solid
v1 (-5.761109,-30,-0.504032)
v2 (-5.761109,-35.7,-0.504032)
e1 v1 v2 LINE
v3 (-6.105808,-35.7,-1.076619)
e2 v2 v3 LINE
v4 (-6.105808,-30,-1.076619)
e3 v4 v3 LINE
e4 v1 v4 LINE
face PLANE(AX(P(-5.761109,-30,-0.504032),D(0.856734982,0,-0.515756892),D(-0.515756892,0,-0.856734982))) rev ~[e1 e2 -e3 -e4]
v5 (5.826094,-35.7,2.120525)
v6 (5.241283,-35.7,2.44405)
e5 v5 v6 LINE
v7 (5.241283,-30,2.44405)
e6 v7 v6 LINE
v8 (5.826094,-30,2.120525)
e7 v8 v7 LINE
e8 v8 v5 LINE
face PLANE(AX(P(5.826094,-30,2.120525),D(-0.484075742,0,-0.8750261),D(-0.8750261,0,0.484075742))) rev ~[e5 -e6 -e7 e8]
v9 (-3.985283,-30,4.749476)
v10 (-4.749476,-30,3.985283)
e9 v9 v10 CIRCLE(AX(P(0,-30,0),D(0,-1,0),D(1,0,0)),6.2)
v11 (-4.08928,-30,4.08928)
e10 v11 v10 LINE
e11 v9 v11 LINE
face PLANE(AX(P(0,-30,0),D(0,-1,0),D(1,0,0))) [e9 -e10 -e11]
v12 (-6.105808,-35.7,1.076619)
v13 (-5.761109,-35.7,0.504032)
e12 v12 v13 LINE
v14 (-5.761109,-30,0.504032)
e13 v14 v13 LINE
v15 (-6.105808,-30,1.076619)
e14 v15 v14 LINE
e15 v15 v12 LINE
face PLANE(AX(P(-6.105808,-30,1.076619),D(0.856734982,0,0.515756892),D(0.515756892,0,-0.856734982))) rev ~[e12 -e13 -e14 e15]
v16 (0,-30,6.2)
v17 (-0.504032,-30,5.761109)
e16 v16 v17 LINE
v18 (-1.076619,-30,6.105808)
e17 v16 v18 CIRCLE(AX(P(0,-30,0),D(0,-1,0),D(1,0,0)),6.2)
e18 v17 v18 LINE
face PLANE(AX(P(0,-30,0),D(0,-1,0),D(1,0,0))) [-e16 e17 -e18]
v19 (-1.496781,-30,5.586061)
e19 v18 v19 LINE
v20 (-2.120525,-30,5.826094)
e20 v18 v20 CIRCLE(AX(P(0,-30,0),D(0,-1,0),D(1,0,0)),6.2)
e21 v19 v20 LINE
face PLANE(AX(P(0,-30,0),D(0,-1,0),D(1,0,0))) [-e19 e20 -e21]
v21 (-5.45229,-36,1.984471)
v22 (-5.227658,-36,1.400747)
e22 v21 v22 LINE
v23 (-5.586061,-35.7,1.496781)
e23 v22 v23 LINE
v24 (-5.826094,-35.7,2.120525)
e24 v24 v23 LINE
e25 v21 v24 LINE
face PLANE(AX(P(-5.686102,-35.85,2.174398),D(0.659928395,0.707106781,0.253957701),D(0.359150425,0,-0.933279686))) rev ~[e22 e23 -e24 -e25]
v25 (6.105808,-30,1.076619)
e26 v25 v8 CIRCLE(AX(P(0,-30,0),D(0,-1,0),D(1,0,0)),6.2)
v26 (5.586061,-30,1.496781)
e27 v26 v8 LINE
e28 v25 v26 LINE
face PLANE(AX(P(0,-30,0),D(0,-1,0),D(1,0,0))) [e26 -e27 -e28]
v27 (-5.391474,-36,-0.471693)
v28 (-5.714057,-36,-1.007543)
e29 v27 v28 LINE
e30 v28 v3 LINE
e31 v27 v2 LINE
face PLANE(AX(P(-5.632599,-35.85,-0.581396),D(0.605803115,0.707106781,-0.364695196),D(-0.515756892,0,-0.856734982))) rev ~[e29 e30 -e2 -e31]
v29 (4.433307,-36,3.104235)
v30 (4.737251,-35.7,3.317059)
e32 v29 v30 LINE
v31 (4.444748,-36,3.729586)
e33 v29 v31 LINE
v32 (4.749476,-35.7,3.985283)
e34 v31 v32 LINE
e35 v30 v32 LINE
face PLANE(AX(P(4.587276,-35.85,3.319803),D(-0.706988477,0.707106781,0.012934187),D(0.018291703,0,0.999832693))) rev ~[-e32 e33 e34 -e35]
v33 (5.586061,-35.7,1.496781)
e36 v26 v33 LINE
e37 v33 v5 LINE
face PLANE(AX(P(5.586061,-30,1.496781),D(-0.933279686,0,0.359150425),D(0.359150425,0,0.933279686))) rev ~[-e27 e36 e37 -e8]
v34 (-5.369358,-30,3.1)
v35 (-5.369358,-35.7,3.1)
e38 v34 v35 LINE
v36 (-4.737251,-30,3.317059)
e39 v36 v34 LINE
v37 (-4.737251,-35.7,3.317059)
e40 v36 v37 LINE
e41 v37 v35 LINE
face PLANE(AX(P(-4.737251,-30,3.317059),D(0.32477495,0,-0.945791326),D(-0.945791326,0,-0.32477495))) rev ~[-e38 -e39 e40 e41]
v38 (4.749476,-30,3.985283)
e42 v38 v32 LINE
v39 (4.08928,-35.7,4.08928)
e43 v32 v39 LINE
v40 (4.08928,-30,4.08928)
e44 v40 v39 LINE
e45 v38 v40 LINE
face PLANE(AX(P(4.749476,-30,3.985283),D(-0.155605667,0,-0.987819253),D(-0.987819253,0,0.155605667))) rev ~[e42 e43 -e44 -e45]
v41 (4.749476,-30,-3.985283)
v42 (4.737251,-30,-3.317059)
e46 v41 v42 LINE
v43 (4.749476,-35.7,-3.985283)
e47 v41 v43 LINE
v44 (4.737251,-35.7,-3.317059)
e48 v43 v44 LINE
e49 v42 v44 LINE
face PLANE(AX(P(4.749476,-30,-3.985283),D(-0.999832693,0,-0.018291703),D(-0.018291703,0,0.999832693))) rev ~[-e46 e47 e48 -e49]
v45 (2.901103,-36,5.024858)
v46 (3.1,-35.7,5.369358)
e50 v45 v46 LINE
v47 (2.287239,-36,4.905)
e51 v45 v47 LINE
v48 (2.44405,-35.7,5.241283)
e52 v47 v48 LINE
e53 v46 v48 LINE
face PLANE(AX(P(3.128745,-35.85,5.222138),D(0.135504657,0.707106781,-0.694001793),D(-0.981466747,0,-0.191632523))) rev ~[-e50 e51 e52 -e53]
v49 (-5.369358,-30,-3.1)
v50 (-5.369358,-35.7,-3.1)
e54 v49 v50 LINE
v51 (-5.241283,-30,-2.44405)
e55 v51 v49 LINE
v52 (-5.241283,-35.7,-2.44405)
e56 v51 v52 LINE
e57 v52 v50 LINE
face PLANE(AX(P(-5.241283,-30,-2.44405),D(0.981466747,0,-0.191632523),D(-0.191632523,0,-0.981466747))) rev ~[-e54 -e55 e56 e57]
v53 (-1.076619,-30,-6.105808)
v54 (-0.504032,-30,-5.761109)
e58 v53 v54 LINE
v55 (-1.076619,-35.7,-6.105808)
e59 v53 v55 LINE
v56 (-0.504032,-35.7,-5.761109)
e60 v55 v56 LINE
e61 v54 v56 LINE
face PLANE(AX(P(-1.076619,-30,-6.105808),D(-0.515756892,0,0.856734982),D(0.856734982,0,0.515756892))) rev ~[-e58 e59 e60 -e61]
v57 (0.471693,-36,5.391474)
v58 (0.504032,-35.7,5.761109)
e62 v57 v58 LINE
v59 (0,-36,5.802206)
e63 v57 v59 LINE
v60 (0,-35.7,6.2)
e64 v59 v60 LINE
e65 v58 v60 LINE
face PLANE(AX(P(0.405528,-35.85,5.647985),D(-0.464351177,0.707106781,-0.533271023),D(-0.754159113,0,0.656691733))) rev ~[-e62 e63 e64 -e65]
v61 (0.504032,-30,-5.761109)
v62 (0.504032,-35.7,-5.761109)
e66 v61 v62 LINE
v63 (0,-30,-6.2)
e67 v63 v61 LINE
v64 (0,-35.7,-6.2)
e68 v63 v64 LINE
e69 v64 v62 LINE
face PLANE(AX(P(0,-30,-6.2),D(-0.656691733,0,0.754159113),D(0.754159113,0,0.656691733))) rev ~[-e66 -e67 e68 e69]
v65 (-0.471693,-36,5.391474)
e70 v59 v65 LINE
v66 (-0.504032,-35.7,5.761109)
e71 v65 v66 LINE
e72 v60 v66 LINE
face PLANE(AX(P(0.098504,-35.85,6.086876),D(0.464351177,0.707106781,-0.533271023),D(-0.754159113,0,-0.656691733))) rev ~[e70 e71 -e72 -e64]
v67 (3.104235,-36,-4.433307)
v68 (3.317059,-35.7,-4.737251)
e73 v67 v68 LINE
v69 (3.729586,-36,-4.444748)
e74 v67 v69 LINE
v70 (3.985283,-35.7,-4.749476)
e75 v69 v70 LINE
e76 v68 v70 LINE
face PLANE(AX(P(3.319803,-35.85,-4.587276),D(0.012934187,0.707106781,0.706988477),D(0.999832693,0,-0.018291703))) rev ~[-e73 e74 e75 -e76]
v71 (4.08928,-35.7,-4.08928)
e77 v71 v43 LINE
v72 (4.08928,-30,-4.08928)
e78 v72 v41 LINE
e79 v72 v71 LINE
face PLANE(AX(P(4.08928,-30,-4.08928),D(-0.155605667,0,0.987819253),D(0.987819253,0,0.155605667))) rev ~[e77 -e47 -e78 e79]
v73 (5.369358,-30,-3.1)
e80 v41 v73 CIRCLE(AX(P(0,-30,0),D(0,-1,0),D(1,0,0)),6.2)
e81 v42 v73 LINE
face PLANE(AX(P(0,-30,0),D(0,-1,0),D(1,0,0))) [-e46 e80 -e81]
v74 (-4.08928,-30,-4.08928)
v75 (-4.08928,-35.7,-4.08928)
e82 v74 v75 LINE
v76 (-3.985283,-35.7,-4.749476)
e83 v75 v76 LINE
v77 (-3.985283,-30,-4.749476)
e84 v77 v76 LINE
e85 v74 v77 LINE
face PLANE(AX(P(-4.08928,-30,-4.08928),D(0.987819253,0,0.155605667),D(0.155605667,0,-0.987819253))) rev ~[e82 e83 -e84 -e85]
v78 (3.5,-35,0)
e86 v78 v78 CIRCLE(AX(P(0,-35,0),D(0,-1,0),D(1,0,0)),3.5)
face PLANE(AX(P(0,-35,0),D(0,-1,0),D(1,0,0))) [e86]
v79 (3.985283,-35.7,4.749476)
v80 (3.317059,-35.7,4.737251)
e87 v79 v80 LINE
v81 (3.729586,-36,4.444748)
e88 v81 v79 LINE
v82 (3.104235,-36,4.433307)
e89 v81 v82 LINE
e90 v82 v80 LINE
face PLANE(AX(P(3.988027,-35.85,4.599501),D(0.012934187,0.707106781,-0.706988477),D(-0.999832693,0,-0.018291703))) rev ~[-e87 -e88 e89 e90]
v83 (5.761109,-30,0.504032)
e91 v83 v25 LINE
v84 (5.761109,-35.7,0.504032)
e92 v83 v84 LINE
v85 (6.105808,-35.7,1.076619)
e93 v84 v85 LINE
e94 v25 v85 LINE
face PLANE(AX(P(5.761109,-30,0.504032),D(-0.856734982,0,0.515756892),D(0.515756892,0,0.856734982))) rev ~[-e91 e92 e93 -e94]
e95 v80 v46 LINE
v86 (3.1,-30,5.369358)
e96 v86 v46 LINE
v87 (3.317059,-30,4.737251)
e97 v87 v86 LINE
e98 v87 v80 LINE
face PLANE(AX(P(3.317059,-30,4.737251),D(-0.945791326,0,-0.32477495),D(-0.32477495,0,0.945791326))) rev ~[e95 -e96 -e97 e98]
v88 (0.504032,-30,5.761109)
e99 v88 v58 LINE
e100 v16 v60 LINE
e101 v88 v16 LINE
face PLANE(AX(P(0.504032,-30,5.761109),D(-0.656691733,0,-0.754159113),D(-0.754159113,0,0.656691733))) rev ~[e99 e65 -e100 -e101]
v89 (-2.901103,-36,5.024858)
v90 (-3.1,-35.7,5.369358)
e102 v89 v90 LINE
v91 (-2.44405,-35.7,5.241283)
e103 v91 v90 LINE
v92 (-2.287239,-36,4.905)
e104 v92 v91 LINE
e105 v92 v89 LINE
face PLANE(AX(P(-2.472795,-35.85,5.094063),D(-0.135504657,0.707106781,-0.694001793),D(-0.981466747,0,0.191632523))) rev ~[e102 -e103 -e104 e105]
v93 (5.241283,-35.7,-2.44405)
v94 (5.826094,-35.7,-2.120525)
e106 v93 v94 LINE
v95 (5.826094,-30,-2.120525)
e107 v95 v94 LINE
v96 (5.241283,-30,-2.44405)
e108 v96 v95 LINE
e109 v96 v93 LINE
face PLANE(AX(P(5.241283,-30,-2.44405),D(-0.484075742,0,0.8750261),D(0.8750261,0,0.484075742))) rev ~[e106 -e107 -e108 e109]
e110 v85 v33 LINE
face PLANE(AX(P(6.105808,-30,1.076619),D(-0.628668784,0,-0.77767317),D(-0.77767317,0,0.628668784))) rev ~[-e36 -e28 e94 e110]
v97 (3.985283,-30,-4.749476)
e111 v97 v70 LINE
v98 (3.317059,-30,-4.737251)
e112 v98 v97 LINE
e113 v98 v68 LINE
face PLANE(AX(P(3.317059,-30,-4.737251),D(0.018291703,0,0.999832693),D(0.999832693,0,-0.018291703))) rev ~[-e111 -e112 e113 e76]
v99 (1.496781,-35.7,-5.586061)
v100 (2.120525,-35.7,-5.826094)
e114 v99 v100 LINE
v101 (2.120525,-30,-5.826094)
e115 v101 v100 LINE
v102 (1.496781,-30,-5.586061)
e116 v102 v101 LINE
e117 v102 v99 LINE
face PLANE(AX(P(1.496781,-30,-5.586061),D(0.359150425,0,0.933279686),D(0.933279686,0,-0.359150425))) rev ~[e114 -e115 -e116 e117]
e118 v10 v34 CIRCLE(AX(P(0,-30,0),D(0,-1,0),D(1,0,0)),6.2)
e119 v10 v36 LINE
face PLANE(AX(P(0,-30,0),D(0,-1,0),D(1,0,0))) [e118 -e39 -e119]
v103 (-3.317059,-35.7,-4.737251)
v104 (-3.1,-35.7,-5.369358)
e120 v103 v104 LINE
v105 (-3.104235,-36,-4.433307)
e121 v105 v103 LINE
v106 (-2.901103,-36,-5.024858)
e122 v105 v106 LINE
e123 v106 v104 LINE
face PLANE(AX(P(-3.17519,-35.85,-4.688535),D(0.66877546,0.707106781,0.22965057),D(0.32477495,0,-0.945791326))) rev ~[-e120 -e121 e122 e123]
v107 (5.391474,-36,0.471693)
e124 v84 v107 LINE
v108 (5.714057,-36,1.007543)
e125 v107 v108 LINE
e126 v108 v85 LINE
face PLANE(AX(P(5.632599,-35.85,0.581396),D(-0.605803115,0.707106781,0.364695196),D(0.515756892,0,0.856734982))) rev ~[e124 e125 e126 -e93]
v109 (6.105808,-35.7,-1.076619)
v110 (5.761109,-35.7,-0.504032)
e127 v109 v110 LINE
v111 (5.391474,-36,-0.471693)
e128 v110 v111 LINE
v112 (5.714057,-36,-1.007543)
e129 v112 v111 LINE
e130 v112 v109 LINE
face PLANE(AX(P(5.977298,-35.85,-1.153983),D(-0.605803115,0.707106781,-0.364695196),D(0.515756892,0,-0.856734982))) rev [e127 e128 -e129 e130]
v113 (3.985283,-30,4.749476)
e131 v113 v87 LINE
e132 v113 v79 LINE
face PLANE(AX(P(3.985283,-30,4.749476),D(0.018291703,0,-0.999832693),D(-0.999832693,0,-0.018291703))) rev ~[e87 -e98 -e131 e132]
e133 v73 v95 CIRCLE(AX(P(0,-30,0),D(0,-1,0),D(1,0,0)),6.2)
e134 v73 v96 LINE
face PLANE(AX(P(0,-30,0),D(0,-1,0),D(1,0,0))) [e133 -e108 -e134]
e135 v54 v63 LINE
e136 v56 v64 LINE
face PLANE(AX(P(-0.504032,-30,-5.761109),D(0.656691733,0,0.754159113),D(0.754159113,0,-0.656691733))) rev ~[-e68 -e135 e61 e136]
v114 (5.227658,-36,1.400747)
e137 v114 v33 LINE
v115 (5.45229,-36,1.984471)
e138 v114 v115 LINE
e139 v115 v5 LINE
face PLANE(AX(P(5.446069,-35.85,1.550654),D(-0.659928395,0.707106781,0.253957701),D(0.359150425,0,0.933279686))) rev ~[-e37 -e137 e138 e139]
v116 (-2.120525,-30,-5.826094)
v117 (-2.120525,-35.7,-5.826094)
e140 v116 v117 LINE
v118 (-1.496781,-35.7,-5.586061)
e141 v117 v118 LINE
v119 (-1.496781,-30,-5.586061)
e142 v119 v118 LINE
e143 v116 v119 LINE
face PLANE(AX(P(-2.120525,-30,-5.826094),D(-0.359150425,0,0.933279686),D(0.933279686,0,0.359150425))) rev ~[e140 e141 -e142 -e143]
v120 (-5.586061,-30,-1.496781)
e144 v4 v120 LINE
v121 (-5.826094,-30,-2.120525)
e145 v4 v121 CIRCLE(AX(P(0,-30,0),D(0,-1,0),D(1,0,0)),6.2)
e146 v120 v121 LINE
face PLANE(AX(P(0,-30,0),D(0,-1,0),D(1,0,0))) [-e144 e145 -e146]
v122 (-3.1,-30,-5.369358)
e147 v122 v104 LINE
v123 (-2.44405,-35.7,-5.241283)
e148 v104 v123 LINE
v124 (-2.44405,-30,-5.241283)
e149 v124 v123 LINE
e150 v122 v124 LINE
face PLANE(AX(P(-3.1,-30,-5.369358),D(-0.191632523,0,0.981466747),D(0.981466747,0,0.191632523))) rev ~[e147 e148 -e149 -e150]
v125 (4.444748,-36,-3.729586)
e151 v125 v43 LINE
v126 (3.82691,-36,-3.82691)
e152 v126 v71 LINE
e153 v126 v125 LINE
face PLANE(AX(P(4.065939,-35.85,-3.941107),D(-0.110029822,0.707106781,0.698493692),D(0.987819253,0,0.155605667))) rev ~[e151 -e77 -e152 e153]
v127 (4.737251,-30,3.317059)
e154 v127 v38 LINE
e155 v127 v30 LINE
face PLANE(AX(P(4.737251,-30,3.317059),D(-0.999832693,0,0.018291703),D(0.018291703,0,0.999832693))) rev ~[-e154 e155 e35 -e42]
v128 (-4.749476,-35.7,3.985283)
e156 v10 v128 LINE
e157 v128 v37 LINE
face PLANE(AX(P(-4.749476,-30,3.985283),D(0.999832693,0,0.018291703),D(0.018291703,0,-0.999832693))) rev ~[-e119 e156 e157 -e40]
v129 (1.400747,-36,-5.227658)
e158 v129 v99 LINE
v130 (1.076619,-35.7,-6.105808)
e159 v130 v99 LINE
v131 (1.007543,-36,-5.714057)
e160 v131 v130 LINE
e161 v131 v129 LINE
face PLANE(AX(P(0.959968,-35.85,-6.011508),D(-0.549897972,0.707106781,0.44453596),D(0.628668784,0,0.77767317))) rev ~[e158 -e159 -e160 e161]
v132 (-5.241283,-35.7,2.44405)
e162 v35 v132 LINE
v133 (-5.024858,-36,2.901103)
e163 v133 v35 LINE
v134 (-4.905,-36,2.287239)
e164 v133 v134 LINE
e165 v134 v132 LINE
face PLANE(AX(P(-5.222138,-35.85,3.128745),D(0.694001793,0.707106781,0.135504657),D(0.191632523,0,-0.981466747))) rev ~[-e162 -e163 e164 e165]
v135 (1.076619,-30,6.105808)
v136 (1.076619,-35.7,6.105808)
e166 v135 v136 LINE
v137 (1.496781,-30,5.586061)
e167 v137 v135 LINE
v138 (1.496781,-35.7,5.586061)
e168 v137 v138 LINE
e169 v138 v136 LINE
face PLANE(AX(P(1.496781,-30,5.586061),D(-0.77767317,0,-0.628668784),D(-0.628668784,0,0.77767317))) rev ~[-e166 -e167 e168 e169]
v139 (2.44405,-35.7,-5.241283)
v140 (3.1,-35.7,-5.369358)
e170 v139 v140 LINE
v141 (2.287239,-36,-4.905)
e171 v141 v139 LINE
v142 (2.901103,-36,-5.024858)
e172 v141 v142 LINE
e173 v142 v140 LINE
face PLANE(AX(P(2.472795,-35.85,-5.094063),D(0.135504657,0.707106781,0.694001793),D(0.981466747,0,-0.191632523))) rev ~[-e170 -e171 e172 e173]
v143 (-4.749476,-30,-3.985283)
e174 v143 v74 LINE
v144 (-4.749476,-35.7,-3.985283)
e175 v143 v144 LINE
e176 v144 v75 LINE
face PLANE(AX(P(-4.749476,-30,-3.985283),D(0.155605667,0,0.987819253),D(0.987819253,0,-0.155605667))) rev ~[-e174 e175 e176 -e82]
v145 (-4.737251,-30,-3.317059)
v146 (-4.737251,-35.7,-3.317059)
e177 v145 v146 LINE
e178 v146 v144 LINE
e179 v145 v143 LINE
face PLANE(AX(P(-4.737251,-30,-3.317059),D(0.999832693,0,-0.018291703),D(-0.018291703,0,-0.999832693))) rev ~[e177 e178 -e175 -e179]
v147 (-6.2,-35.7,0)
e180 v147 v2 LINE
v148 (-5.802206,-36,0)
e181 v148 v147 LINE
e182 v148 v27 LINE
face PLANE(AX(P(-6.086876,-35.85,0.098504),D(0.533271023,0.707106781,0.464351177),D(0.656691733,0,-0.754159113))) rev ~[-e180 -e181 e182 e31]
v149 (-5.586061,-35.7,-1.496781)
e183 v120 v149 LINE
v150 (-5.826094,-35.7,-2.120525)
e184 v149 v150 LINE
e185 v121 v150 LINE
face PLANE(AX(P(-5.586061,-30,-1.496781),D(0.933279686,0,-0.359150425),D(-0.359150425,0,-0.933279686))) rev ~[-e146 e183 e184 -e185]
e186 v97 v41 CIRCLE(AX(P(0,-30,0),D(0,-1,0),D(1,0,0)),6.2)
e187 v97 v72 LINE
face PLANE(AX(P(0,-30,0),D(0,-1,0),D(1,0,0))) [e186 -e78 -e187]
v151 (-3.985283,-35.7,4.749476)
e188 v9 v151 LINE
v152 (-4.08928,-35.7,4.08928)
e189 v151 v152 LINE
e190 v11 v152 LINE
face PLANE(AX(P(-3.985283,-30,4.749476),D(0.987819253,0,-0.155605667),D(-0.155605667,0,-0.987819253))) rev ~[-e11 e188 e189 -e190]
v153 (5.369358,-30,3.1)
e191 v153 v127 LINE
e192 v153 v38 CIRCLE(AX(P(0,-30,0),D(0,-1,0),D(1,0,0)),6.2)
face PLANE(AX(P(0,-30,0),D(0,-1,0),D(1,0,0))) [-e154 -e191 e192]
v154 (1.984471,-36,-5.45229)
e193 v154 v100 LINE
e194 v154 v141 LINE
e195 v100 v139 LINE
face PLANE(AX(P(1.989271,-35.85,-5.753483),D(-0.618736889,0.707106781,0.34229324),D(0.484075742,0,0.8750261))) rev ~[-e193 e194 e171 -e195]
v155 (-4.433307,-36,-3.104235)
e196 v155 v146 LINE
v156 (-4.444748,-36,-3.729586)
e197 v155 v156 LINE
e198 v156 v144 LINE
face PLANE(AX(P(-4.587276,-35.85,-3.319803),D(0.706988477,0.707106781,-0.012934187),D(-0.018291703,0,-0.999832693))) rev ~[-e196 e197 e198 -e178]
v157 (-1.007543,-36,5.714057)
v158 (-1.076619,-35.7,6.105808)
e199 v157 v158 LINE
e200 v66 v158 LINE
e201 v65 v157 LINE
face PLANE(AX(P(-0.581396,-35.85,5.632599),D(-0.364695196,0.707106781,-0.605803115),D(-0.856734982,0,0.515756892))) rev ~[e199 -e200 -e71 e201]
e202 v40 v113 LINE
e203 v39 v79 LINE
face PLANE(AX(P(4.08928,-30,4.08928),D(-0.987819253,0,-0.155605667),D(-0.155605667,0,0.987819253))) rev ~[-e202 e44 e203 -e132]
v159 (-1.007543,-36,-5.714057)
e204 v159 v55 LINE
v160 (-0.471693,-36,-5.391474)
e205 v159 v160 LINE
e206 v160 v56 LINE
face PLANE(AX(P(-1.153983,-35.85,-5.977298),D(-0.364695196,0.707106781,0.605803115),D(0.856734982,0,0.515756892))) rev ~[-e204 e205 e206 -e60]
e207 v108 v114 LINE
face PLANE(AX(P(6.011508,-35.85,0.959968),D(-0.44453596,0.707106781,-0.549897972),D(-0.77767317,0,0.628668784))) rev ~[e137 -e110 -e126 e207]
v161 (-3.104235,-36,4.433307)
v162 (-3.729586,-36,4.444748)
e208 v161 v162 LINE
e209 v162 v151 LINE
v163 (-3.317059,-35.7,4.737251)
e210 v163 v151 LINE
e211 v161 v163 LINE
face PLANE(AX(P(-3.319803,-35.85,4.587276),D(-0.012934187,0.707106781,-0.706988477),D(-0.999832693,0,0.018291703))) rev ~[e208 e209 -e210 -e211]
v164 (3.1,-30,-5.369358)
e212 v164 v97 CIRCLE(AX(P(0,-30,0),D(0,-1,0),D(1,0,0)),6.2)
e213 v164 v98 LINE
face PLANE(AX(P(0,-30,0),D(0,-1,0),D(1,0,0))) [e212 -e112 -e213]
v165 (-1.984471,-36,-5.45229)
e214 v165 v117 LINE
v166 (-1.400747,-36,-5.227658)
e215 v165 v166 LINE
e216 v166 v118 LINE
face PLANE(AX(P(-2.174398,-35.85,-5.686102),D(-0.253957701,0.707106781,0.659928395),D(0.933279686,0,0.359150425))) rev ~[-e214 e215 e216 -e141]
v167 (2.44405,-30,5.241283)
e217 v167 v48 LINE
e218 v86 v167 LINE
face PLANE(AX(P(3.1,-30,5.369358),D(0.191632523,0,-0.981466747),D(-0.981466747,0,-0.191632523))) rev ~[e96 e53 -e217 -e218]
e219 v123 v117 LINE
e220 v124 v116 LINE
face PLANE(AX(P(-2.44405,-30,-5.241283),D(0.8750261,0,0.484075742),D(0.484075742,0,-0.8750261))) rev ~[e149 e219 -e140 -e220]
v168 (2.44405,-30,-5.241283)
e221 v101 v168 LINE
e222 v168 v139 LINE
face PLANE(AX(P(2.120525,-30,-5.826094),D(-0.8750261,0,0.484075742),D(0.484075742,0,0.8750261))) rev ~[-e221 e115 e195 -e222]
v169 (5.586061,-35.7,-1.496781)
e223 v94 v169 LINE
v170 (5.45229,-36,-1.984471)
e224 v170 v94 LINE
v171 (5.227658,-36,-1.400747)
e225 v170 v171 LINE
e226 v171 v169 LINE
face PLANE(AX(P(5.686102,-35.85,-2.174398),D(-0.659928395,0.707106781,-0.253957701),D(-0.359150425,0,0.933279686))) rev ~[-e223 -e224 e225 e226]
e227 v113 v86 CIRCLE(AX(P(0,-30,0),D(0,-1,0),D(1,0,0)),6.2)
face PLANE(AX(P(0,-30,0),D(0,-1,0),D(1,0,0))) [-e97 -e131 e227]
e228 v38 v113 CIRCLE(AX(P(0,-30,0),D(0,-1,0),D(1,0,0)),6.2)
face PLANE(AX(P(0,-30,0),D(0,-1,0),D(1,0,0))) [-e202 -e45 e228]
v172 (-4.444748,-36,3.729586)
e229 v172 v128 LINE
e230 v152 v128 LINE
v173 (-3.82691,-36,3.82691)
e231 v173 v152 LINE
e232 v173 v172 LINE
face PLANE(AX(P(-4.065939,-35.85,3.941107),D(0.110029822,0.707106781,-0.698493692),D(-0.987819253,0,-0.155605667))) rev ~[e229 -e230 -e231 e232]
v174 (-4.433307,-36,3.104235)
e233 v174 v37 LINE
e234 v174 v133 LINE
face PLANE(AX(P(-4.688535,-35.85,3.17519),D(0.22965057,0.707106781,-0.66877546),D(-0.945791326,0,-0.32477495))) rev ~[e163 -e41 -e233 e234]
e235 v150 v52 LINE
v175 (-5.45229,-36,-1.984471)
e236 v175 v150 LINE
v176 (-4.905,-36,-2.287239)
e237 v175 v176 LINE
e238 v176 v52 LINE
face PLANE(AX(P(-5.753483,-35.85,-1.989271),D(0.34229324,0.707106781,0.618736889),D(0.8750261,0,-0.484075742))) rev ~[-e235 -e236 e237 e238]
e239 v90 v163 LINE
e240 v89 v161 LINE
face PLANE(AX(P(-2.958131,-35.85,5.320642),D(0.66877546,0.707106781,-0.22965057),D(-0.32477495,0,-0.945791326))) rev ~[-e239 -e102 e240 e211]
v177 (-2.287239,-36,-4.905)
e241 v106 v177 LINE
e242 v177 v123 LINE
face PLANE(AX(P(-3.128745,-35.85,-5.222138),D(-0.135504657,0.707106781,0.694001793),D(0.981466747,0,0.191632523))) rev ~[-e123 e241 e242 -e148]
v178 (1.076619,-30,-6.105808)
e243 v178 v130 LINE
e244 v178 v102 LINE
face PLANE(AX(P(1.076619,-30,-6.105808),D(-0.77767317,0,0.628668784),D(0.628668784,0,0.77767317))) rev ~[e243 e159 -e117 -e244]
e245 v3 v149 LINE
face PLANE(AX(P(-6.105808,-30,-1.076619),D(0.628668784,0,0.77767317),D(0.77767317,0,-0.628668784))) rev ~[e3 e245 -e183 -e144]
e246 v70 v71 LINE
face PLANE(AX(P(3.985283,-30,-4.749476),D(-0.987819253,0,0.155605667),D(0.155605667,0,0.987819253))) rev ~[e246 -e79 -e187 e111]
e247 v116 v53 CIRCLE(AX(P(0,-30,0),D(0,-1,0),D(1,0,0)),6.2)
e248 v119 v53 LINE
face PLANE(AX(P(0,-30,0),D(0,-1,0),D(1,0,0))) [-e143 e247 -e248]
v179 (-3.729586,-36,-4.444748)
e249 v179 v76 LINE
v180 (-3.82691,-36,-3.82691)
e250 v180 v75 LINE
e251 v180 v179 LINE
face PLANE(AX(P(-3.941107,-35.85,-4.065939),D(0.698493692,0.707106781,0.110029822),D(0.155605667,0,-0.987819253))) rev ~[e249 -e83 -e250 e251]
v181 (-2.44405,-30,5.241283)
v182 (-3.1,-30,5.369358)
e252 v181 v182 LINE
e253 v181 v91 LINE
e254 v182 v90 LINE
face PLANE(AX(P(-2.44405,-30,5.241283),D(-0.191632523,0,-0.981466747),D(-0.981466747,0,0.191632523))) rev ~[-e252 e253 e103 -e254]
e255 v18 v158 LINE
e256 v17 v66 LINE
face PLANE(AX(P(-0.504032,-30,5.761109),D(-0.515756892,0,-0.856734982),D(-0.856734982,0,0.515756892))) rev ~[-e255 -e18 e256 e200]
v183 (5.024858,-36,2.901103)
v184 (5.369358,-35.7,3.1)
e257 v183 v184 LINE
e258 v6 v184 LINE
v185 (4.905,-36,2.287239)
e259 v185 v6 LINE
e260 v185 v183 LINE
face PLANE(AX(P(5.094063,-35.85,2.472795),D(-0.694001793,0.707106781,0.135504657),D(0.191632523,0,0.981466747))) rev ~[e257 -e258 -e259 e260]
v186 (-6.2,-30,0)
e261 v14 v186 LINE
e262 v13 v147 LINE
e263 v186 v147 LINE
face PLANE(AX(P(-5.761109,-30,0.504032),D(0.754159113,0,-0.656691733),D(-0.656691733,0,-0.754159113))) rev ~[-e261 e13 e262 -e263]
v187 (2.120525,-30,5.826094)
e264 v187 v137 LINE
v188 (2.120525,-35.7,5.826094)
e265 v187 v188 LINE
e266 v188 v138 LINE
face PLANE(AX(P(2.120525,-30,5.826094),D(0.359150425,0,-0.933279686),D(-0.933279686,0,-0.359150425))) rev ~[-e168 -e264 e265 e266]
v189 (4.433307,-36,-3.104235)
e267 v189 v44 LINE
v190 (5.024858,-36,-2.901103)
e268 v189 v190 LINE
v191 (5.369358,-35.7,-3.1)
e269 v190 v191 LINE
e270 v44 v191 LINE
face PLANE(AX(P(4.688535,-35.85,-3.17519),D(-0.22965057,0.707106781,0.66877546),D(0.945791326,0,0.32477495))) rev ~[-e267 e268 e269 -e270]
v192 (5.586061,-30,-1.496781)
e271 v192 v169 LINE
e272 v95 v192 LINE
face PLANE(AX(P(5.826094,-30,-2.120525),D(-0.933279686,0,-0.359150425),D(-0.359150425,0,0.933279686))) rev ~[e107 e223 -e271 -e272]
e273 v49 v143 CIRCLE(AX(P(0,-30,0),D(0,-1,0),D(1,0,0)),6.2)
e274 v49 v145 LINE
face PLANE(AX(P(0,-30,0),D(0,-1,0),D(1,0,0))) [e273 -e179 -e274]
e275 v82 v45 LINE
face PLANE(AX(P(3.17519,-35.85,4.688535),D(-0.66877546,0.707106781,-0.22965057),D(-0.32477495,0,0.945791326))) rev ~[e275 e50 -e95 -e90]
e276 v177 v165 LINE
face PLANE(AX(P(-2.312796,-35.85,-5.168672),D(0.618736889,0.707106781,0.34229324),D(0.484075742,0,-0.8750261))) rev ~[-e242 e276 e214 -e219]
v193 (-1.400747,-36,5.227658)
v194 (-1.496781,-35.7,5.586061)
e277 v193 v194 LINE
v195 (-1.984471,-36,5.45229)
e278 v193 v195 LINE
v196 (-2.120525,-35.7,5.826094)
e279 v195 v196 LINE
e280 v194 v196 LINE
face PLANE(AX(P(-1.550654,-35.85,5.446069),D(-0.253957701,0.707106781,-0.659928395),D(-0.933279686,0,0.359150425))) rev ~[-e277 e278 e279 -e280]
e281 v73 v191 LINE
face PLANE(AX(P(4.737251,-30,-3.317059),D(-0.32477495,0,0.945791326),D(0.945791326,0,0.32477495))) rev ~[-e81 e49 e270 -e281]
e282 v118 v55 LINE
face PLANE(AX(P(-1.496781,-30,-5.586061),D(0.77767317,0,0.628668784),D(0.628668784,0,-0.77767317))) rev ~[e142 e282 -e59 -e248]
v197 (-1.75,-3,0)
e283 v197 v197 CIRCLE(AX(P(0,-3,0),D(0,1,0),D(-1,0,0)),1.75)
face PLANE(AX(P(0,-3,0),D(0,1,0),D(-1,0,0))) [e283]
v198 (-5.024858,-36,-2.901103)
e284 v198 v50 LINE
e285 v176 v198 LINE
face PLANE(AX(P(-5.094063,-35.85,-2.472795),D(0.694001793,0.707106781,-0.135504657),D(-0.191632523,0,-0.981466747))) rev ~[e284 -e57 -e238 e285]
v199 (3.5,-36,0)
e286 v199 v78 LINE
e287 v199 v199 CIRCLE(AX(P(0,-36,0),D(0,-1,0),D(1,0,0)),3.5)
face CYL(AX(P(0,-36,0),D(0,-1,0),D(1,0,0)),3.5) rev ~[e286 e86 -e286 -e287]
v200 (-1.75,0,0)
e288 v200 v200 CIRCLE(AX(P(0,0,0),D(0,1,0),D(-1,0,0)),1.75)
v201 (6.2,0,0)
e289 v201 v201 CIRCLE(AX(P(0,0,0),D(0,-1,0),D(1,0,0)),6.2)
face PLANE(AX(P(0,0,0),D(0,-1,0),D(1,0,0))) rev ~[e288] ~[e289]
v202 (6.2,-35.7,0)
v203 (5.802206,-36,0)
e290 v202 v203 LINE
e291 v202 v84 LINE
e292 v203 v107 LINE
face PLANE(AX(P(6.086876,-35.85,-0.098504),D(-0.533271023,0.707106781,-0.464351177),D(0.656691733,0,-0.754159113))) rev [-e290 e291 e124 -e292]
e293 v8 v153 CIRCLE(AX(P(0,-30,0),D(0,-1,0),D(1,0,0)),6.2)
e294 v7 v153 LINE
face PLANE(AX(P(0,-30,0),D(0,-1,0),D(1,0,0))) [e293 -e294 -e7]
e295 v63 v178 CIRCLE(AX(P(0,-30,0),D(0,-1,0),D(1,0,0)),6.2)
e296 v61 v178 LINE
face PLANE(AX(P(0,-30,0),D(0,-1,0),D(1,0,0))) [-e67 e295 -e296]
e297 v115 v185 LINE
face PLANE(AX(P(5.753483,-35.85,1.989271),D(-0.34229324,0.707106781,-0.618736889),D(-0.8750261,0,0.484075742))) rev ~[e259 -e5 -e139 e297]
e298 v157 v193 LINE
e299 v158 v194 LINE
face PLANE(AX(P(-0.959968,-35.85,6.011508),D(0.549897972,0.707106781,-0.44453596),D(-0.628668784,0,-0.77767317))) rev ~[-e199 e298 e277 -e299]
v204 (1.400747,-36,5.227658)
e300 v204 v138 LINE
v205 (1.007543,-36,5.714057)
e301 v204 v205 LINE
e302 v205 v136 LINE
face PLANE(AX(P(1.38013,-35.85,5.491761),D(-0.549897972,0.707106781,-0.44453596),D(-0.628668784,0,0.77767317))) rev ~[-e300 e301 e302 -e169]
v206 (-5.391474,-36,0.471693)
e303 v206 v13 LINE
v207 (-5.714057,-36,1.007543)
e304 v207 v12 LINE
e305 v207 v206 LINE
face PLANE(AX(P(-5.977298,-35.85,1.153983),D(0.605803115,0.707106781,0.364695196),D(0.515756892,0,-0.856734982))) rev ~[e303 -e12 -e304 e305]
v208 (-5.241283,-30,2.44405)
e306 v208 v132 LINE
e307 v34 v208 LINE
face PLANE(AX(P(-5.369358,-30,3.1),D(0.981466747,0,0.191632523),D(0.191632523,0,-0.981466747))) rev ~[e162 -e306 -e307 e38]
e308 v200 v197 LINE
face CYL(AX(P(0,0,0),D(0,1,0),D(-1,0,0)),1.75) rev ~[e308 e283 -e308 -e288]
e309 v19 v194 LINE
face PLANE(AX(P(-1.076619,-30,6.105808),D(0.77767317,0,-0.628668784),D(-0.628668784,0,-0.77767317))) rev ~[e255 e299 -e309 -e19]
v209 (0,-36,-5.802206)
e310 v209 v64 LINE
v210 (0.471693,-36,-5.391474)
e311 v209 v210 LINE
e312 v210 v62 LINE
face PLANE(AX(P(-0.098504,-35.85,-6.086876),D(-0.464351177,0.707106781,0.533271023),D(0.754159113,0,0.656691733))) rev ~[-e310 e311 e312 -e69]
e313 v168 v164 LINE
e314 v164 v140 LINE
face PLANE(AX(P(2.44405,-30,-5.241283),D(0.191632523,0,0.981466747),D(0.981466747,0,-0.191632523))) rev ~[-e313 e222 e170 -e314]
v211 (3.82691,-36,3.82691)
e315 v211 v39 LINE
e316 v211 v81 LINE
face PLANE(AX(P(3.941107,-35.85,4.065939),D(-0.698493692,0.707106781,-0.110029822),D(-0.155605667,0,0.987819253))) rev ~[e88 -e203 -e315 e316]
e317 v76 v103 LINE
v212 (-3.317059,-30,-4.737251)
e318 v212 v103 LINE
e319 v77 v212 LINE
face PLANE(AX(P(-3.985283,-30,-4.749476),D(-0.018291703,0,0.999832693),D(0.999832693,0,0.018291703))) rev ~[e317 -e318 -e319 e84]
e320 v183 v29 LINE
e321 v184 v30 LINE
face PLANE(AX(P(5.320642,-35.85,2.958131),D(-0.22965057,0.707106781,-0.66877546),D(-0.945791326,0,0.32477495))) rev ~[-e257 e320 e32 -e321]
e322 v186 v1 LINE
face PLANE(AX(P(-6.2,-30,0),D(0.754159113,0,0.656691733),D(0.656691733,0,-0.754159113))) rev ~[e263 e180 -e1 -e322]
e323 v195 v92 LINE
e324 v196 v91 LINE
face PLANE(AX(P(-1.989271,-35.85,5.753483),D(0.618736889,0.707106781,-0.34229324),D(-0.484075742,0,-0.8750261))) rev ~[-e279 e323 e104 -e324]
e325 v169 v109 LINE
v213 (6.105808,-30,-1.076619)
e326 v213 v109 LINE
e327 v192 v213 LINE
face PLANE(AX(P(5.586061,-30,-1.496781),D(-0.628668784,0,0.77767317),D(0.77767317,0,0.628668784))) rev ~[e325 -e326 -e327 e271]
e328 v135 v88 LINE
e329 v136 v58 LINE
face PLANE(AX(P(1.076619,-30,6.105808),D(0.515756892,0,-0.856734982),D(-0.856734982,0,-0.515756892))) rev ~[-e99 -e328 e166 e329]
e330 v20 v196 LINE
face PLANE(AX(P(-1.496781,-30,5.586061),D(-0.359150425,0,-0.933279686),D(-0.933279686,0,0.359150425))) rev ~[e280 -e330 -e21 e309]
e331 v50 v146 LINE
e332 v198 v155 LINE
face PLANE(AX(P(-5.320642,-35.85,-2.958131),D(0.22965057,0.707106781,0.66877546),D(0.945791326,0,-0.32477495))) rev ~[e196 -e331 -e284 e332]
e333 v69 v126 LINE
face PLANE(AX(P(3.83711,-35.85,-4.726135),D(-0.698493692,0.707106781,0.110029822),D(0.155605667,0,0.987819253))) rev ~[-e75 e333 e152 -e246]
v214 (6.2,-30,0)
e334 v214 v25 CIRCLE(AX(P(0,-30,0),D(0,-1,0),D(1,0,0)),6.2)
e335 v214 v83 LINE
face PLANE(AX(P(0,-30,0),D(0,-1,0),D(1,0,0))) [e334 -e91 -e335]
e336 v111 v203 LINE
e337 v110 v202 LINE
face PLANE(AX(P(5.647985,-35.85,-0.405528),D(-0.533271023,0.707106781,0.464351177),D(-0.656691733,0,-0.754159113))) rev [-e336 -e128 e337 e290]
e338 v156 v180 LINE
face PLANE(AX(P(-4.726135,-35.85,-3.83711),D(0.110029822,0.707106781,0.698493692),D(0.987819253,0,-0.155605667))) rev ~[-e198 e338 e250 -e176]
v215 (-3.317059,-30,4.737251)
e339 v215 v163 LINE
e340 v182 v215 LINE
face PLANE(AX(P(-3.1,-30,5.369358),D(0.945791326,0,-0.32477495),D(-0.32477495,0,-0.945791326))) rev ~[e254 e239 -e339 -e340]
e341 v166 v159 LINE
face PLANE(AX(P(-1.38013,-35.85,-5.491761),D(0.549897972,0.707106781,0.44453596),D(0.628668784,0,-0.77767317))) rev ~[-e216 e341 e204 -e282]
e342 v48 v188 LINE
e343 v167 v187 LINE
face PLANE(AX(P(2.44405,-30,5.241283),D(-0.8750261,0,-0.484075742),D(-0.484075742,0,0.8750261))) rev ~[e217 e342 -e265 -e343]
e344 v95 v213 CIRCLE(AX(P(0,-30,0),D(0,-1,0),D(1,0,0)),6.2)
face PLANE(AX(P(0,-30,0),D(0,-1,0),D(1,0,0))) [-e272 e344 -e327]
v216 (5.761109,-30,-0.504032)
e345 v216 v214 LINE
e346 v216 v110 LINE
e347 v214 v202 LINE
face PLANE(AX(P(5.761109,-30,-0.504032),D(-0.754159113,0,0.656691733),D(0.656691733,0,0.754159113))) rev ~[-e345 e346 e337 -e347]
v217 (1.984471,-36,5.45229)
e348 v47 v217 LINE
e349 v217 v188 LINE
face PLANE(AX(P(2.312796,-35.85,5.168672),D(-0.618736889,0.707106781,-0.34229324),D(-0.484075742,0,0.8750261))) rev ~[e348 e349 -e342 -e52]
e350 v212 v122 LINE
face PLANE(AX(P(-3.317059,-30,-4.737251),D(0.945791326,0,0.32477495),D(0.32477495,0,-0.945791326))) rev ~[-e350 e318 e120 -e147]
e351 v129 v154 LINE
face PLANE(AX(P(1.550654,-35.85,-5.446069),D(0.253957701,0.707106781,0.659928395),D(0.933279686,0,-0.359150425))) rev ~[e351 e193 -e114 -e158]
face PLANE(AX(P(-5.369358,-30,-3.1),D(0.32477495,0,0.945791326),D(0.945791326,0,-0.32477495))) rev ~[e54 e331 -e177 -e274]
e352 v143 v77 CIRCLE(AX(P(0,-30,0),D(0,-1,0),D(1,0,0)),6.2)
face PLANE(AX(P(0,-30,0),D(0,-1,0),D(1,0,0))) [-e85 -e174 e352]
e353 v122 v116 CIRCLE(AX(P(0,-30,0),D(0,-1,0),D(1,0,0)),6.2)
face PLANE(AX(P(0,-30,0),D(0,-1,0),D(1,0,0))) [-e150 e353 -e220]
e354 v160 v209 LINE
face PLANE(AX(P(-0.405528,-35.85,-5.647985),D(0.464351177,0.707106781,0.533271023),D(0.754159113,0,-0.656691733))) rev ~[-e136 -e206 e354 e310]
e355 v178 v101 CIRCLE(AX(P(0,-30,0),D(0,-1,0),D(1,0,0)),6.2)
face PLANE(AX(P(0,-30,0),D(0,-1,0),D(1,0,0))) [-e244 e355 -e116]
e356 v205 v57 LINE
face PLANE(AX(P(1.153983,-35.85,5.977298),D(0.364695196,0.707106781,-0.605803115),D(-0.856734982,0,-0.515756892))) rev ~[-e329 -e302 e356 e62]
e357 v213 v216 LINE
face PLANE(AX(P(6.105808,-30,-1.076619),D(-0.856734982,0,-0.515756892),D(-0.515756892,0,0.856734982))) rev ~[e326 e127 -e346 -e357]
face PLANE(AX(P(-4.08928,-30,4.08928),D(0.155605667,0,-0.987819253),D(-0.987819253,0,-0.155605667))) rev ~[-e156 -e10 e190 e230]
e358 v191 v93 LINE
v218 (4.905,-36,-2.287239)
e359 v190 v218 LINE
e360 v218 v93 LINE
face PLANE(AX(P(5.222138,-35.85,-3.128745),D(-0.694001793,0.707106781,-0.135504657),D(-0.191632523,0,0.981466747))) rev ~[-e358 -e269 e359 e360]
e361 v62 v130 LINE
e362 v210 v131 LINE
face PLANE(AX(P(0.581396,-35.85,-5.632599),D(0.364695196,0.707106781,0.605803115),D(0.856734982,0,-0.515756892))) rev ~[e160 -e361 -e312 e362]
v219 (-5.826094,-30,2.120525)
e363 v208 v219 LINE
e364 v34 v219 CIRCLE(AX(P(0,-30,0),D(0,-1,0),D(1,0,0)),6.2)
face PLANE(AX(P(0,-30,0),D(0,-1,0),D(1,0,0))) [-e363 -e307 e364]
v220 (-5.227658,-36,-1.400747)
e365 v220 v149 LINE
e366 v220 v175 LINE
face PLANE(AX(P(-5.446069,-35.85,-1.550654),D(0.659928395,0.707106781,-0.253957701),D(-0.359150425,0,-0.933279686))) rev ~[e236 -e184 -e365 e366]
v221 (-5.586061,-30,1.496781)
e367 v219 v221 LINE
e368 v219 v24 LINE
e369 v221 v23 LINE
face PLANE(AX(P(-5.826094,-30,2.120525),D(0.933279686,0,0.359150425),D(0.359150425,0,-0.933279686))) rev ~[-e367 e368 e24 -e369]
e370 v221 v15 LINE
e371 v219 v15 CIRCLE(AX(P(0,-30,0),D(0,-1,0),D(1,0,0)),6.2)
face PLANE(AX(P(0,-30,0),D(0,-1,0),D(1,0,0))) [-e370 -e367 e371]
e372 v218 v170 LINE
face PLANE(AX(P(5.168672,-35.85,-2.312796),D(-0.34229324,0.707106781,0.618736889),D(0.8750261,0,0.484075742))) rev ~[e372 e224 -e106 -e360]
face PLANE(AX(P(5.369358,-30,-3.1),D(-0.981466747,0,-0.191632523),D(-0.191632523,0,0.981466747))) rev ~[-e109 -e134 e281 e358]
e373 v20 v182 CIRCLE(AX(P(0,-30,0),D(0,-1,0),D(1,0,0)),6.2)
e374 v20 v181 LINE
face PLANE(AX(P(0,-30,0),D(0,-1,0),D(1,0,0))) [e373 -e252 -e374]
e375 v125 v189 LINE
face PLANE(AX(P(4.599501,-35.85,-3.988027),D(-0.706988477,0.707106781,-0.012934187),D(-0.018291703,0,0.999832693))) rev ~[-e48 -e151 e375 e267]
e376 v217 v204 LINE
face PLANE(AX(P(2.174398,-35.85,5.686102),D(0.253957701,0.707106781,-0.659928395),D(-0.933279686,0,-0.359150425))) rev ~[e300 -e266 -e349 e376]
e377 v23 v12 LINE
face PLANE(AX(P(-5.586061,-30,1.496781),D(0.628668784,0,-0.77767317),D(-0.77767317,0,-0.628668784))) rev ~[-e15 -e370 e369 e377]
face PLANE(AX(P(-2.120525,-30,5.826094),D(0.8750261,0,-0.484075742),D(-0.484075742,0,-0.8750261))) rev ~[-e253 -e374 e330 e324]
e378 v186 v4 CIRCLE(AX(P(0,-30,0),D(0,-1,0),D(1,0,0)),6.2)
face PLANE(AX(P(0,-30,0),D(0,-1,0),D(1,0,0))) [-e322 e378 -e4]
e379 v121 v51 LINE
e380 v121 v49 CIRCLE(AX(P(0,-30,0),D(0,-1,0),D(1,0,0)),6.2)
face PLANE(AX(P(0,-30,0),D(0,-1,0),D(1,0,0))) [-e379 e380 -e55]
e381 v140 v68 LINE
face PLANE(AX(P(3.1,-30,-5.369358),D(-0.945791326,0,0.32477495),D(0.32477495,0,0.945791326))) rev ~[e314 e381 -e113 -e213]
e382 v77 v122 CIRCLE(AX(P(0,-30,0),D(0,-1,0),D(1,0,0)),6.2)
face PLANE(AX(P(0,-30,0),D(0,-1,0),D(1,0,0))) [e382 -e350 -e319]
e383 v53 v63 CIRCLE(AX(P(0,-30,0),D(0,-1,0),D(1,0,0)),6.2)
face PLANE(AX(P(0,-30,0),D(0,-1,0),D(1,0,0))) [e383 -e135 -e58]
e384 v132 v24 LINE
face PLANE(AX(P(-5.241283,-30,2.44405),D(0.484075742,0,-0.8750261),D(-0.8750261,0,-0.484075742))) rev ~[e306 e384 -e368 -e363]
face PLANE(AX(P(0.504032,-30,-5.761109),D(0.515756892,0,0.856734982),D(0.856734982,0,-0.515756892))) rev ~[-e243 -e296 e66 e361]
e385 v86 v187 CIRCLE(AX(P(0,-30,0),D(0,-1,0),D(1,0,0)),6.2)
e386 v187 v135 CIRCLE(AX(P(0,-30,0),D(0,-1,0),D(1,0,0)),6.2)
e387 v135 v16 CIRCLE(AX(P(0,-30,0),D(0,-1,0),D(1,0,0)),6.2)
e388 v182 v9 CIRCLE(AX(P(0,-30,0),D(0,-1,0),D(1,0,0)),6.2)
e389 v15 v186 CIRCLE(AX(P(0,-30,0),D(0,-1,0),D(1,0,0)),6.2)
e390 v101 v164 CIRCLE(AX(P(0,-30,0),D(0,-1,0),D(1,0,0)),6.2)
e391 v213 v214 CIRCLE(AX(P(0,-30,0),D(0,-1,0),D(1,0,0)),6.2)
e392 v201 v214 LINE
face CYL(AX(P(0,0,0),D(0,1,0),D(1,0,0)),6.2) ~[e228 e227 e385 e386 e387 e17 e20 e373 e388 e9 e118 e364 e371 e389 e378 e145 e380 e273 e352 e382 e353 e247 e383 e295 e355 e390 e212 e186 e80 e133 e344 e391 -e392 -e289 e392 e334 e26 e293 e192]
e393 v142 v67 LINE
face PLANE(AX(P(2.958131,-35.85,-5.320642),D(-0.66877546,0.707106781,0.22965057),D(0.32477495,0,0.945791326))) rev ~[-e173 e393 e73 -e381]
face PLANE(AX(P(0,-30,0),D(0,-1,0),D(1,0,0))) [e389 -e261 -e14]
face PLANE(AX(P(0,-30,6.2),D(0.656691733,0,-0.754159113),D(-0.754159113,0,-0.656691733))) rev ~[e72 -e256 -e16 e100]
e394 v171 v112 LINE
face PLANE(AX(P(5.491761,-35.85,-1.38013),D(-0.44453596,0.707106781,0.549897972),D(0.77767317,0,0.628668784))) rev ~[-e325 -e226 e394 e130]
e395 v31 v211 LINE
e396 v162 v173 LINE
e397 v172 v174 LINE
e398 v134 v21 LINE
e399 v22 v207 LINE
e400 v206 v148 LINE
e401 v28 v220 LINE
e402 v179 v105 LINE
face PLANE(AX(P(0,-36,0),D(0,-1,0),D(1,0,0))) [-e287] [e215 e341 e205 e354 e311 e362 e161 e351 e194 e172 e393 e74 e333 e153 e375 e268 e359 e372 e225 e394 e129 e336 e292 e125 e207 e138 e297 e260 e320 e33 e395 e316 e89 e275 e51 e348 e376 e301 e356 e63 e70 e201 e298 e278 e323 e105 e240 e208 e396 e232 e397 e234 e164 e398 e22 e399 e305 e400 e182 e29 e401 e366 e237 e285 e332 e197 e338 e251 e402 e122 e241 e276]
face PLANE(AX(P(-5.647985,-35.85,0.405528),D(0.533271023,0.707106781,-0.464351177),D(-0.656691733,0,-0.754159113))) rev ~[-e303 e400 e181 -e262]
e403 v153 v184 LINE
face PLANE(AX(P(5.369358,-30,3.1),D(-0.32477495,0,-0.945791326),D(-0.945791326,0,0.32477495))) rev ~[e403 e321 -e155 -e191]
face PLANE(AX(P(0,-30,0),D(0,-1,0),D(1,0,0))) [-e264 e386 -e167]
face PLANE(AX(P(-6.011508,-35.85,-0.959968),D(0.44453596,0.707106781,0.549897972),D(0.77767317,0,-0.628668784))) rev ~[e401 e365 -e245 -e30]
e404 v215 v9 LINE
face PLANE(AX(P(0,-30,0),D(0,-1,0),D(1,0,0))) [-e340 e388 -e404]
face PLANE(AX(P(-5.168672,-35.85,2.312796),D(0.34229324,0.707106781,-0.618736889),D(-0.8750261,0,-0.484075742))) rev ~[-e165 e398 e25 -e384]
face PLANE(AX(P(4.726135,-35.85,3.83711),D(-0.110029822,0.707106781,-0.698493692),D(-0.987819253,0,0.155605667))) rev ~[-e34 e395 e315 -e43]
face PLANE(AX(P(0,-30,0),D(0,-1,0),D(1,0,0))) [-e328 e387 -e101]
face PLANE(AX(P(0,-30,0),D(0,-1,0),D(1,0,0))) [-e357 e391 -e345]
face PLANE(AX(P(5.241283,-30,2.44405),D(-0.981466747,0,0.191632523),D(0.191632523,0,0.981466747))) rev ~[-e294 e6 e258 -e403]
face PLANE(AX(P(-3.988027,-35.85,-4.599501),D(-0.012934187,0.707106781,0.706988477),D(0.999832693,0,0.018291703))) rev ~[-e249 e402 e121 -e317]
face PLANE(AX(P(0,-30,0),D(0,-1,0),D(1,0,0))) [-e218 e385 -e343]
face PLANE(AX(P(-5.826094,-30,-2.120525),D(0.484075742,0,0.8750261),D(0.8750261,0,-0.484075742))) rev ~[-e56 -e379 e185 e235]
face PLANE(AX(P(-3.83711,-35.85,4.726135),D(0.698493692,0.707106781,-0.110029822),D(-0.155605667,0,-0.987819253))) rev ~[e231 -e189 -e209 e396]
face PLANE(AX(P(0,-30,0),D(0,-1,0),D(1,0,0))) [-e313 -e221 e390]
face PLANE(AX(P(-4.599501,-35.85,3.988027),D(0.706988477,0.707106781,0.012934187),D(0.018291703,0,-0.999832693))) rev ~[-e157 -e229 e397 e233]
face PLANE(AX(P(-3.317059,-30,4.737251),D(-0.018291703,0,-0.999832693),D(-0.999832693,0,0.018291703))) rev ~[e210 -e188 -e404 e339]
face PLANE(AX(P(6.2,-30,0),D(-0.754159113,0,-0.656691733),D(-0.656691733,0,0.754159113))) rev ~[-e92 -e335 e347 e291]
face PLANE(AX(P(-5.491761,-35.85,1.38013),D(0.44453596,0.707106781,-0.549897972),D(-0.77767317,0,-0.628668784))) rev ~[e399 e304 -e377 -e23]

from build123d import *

# Parameters (mm, degrees)
F0_R     = 6.2
F1_DEPTH = 30
F3_DEPTH = 6
F4_SIZE  = 0.3
F5_R     = 3.5
F6_DEPTH = 1
F7_R     = 1.75
F8_DEPTH = 3


with BuildPart() as f1:
    # F0 (on Front) → F1 (new body)
    with BuildSketch(Plane.XZ):
        Circle(F0_R)
    extrude(amount=F1_DEPTH)

    # F2 (on face) → F3 (join)
    with BuildSketch(Plane.XZ.offset(30)):
        Polygon((5.761109, -0.504032), (6.2, 0), (5.761109, 0.504032), (6.105808, 1.076619), (5.586061, 1.496781), (5.826094, 2.120525), (5.241283, 2.44405), (5.369358, 3.1), (4.737251, 3.317059), (4.749476, 3.985283), (4.08928, 4.08928), (3.985283, 4.749476), (3.317059, 4.737251), (3.1, 5.369358), (2.44405, 5.241283), (2.120525, 5.826094), (1.496781, 5.586061), (1.076619, 6.105808), (0.504032, 5.761109), (0, 6.2), (-0.504032, 5.761109), (-1.076619, 6.105808), (-1.496781, 5.586061), (-2.120525, 5.826094), (-2.44405, 5.241283), (-3.1, 5.369358), (-3.317059, 4.737251), (-3.985283, 4.749476), (-4.08928, 4.08928), (-4.749476, 3.985283), (-4.737251, 3.317059), (-5.369358, 3.1), (-5.241283, 2.44405), (-5.826094, 2.120525), (-5.586061, 1.496781), (-6.105808, 1.076619), (-5.761109, 0.504032), (-6.2, 0), (-5.761109, -0.504032), (-6.105808, -1.076619), (-5.586061, -1.496781), (-5.826094, -2.120525), (-5.241283, -2.44405), (-5.369358, -3.1), (-4.737251, -3.317059), (-4.749476, -3.985283), (-4.08928, -4.08928), (-3.985283, -4.749476), (-3.317059, -4.737251), (-3.1, -5.369358), (-2.44405, -5.241283), (-2.120525, -5.826094), (-1.496781, -5.586061), (-1.076619, -6.105808), (-0.504032, -5.761109), (0, -6.2), (0.504032, -5.761109), (1.076619, -6.105808), (1.496781, -5.586061), (2.120525, -5.826094), (2.44405, -5.241283), (3.1, -5.369358), (3.317059, -4.737251), (3.985283, -4.749476), (4.08928, -4.08928), (4.749476, -3.985283), (4.737251, -3.317059), (5.369358, -3.1), (5.241283, -2.44405), (5.826094, -2.120525), (5.586061, -1.496781), (6.105808, -1.076619), align=None)
    extrude(amount=F3_DEPTH)

    # F4
    f4_edges = [f1.edges().sort_by_distance(p)[0] for p in [
        (3.651171, -36, -4.743363),
        (4.037282, -36, -4.419378),
        (4.419378, -36, -4.037282),
        (4.743363, -36, -3.651171),
        (5.053304, -36, -3.208529),
        (5.30532, -36, -2.772025),
        (5.533689, -36, -2.282288),
        (5.706078, -36, -1.808653),
        (5.845934, -36, -1.2867),
        (5.933459, -36, -0.790325),
        (5.980555, -36, -0.252016),
        (5.980555, -36, 0.252016),
        (5.933459, -36, 0.790325),
        (5.845934, -36, 1.2867),
        (5.706078, -36, 1.808653),
        (5.533689, -36, 2.282288),
        (5.30532, -36, 2.772025),
        (5.053304, -36, 3.208529),
        (4.743363, -36, 3.651171),
        (4.419378, -36, 4.037282),
        (4.037282, -36, 4.419378),
        (3.651171, -36, 4.743363),
        (3.208529, -36, 5.053304),
        (2.772025, -36, 5.30532),
        (2.282288, -36, 5.533689),
        (1.808653, -36, 5.706078),
        (1.2867, -36, 5.845934),
        (0.790325, -36, 5.933459),
        (0.252016, -36, 5.980555),
        (-0.252016, -36, 5.980555),
        (-0.790325, -36, 5.933459),
        (-1.2867, -36, 5.845934),
        (-1.808653, -36, 5.706078),
        (-2.282288, -36, 5.533689),
        (-2.772025, -36, 5.30532),
        (-3.208529, -36, 5.053304),
        (-3.651171, -36, 4.743363),
        (-4.037282, -36, 4.419378),
        (-4.419378, -36, 4.037282),
        (-4.743363, -36, 3.651171),
        (-5.053304, -36, 3.208529),
        (-5.30532, -36, 2.772025),
        (-5.533689, -36, 2.282288),
        (-5.706078, -36, 1.808653),
        (-5.845934, -36, 1.2867),
        (-5.933459, -36, 0.790325),
        (-5.980555, -36, 0.252016),
        (-5.980555, -36, -0.252016),
        (-5.933459, -36, -0.790325),
        (-5.845934, -36, -1.2867),
        (-5.706078, -36, -1.808653),
        (-5.533689, -36, -2.282288),
        (-5.30532, -36, -2.772025),
        (-5.053304, -36, -3.208529),
        (-4.743363, -36, -3.651171),
        (-4.419378, -36, -4.037282),
        (-4.037282, -36, -4.419378),
        (-3.651171, -36, -4.743363),
        (-3.208529, -36, -5.053304),
        (-2.772025, -36, -5.30532),
        (-2.282288, -36, -5.533689),
        (-1.808653, -36, -5.706078),
        (-1.2867, -36, -5.845934),
        (-0.790325, -36, -5.933459),
        (-0.252016, -36, -5.980555),
        (0.252016, -36, -5.980555),
        (0.790325, -36, -5.933459),
        (1.2867, -36, -5.845934),
        (1.808653, -36, -5.706078),
        (2.282288, -36, -5.533689),
        (2.772025, -36, -5.30532),
        (3.208529, -36, -5.053304),
    ]]
    chamfer(f4_edges, length=F4_SIZE)

    # F5 (on face) → F6 (cut)
    with BuildSketch(Plane.XZ.offset(36)):
        Circle(F5_R)
    extrude(amount=-F6_DEPTH, mode=Mode.SUBTRACT)

    # F7 (on face) → F8 (cut)
    with BuildSketch(Plane(origin=(0, 0, 0), x_dir=(-1, 0, 0), z_dir=(0, 1, 0))):
        Circle(F7_R)
    extrude(amount=-F8_DEPTH, mode=Mode.SUBTRACT)


solid = f1.part
